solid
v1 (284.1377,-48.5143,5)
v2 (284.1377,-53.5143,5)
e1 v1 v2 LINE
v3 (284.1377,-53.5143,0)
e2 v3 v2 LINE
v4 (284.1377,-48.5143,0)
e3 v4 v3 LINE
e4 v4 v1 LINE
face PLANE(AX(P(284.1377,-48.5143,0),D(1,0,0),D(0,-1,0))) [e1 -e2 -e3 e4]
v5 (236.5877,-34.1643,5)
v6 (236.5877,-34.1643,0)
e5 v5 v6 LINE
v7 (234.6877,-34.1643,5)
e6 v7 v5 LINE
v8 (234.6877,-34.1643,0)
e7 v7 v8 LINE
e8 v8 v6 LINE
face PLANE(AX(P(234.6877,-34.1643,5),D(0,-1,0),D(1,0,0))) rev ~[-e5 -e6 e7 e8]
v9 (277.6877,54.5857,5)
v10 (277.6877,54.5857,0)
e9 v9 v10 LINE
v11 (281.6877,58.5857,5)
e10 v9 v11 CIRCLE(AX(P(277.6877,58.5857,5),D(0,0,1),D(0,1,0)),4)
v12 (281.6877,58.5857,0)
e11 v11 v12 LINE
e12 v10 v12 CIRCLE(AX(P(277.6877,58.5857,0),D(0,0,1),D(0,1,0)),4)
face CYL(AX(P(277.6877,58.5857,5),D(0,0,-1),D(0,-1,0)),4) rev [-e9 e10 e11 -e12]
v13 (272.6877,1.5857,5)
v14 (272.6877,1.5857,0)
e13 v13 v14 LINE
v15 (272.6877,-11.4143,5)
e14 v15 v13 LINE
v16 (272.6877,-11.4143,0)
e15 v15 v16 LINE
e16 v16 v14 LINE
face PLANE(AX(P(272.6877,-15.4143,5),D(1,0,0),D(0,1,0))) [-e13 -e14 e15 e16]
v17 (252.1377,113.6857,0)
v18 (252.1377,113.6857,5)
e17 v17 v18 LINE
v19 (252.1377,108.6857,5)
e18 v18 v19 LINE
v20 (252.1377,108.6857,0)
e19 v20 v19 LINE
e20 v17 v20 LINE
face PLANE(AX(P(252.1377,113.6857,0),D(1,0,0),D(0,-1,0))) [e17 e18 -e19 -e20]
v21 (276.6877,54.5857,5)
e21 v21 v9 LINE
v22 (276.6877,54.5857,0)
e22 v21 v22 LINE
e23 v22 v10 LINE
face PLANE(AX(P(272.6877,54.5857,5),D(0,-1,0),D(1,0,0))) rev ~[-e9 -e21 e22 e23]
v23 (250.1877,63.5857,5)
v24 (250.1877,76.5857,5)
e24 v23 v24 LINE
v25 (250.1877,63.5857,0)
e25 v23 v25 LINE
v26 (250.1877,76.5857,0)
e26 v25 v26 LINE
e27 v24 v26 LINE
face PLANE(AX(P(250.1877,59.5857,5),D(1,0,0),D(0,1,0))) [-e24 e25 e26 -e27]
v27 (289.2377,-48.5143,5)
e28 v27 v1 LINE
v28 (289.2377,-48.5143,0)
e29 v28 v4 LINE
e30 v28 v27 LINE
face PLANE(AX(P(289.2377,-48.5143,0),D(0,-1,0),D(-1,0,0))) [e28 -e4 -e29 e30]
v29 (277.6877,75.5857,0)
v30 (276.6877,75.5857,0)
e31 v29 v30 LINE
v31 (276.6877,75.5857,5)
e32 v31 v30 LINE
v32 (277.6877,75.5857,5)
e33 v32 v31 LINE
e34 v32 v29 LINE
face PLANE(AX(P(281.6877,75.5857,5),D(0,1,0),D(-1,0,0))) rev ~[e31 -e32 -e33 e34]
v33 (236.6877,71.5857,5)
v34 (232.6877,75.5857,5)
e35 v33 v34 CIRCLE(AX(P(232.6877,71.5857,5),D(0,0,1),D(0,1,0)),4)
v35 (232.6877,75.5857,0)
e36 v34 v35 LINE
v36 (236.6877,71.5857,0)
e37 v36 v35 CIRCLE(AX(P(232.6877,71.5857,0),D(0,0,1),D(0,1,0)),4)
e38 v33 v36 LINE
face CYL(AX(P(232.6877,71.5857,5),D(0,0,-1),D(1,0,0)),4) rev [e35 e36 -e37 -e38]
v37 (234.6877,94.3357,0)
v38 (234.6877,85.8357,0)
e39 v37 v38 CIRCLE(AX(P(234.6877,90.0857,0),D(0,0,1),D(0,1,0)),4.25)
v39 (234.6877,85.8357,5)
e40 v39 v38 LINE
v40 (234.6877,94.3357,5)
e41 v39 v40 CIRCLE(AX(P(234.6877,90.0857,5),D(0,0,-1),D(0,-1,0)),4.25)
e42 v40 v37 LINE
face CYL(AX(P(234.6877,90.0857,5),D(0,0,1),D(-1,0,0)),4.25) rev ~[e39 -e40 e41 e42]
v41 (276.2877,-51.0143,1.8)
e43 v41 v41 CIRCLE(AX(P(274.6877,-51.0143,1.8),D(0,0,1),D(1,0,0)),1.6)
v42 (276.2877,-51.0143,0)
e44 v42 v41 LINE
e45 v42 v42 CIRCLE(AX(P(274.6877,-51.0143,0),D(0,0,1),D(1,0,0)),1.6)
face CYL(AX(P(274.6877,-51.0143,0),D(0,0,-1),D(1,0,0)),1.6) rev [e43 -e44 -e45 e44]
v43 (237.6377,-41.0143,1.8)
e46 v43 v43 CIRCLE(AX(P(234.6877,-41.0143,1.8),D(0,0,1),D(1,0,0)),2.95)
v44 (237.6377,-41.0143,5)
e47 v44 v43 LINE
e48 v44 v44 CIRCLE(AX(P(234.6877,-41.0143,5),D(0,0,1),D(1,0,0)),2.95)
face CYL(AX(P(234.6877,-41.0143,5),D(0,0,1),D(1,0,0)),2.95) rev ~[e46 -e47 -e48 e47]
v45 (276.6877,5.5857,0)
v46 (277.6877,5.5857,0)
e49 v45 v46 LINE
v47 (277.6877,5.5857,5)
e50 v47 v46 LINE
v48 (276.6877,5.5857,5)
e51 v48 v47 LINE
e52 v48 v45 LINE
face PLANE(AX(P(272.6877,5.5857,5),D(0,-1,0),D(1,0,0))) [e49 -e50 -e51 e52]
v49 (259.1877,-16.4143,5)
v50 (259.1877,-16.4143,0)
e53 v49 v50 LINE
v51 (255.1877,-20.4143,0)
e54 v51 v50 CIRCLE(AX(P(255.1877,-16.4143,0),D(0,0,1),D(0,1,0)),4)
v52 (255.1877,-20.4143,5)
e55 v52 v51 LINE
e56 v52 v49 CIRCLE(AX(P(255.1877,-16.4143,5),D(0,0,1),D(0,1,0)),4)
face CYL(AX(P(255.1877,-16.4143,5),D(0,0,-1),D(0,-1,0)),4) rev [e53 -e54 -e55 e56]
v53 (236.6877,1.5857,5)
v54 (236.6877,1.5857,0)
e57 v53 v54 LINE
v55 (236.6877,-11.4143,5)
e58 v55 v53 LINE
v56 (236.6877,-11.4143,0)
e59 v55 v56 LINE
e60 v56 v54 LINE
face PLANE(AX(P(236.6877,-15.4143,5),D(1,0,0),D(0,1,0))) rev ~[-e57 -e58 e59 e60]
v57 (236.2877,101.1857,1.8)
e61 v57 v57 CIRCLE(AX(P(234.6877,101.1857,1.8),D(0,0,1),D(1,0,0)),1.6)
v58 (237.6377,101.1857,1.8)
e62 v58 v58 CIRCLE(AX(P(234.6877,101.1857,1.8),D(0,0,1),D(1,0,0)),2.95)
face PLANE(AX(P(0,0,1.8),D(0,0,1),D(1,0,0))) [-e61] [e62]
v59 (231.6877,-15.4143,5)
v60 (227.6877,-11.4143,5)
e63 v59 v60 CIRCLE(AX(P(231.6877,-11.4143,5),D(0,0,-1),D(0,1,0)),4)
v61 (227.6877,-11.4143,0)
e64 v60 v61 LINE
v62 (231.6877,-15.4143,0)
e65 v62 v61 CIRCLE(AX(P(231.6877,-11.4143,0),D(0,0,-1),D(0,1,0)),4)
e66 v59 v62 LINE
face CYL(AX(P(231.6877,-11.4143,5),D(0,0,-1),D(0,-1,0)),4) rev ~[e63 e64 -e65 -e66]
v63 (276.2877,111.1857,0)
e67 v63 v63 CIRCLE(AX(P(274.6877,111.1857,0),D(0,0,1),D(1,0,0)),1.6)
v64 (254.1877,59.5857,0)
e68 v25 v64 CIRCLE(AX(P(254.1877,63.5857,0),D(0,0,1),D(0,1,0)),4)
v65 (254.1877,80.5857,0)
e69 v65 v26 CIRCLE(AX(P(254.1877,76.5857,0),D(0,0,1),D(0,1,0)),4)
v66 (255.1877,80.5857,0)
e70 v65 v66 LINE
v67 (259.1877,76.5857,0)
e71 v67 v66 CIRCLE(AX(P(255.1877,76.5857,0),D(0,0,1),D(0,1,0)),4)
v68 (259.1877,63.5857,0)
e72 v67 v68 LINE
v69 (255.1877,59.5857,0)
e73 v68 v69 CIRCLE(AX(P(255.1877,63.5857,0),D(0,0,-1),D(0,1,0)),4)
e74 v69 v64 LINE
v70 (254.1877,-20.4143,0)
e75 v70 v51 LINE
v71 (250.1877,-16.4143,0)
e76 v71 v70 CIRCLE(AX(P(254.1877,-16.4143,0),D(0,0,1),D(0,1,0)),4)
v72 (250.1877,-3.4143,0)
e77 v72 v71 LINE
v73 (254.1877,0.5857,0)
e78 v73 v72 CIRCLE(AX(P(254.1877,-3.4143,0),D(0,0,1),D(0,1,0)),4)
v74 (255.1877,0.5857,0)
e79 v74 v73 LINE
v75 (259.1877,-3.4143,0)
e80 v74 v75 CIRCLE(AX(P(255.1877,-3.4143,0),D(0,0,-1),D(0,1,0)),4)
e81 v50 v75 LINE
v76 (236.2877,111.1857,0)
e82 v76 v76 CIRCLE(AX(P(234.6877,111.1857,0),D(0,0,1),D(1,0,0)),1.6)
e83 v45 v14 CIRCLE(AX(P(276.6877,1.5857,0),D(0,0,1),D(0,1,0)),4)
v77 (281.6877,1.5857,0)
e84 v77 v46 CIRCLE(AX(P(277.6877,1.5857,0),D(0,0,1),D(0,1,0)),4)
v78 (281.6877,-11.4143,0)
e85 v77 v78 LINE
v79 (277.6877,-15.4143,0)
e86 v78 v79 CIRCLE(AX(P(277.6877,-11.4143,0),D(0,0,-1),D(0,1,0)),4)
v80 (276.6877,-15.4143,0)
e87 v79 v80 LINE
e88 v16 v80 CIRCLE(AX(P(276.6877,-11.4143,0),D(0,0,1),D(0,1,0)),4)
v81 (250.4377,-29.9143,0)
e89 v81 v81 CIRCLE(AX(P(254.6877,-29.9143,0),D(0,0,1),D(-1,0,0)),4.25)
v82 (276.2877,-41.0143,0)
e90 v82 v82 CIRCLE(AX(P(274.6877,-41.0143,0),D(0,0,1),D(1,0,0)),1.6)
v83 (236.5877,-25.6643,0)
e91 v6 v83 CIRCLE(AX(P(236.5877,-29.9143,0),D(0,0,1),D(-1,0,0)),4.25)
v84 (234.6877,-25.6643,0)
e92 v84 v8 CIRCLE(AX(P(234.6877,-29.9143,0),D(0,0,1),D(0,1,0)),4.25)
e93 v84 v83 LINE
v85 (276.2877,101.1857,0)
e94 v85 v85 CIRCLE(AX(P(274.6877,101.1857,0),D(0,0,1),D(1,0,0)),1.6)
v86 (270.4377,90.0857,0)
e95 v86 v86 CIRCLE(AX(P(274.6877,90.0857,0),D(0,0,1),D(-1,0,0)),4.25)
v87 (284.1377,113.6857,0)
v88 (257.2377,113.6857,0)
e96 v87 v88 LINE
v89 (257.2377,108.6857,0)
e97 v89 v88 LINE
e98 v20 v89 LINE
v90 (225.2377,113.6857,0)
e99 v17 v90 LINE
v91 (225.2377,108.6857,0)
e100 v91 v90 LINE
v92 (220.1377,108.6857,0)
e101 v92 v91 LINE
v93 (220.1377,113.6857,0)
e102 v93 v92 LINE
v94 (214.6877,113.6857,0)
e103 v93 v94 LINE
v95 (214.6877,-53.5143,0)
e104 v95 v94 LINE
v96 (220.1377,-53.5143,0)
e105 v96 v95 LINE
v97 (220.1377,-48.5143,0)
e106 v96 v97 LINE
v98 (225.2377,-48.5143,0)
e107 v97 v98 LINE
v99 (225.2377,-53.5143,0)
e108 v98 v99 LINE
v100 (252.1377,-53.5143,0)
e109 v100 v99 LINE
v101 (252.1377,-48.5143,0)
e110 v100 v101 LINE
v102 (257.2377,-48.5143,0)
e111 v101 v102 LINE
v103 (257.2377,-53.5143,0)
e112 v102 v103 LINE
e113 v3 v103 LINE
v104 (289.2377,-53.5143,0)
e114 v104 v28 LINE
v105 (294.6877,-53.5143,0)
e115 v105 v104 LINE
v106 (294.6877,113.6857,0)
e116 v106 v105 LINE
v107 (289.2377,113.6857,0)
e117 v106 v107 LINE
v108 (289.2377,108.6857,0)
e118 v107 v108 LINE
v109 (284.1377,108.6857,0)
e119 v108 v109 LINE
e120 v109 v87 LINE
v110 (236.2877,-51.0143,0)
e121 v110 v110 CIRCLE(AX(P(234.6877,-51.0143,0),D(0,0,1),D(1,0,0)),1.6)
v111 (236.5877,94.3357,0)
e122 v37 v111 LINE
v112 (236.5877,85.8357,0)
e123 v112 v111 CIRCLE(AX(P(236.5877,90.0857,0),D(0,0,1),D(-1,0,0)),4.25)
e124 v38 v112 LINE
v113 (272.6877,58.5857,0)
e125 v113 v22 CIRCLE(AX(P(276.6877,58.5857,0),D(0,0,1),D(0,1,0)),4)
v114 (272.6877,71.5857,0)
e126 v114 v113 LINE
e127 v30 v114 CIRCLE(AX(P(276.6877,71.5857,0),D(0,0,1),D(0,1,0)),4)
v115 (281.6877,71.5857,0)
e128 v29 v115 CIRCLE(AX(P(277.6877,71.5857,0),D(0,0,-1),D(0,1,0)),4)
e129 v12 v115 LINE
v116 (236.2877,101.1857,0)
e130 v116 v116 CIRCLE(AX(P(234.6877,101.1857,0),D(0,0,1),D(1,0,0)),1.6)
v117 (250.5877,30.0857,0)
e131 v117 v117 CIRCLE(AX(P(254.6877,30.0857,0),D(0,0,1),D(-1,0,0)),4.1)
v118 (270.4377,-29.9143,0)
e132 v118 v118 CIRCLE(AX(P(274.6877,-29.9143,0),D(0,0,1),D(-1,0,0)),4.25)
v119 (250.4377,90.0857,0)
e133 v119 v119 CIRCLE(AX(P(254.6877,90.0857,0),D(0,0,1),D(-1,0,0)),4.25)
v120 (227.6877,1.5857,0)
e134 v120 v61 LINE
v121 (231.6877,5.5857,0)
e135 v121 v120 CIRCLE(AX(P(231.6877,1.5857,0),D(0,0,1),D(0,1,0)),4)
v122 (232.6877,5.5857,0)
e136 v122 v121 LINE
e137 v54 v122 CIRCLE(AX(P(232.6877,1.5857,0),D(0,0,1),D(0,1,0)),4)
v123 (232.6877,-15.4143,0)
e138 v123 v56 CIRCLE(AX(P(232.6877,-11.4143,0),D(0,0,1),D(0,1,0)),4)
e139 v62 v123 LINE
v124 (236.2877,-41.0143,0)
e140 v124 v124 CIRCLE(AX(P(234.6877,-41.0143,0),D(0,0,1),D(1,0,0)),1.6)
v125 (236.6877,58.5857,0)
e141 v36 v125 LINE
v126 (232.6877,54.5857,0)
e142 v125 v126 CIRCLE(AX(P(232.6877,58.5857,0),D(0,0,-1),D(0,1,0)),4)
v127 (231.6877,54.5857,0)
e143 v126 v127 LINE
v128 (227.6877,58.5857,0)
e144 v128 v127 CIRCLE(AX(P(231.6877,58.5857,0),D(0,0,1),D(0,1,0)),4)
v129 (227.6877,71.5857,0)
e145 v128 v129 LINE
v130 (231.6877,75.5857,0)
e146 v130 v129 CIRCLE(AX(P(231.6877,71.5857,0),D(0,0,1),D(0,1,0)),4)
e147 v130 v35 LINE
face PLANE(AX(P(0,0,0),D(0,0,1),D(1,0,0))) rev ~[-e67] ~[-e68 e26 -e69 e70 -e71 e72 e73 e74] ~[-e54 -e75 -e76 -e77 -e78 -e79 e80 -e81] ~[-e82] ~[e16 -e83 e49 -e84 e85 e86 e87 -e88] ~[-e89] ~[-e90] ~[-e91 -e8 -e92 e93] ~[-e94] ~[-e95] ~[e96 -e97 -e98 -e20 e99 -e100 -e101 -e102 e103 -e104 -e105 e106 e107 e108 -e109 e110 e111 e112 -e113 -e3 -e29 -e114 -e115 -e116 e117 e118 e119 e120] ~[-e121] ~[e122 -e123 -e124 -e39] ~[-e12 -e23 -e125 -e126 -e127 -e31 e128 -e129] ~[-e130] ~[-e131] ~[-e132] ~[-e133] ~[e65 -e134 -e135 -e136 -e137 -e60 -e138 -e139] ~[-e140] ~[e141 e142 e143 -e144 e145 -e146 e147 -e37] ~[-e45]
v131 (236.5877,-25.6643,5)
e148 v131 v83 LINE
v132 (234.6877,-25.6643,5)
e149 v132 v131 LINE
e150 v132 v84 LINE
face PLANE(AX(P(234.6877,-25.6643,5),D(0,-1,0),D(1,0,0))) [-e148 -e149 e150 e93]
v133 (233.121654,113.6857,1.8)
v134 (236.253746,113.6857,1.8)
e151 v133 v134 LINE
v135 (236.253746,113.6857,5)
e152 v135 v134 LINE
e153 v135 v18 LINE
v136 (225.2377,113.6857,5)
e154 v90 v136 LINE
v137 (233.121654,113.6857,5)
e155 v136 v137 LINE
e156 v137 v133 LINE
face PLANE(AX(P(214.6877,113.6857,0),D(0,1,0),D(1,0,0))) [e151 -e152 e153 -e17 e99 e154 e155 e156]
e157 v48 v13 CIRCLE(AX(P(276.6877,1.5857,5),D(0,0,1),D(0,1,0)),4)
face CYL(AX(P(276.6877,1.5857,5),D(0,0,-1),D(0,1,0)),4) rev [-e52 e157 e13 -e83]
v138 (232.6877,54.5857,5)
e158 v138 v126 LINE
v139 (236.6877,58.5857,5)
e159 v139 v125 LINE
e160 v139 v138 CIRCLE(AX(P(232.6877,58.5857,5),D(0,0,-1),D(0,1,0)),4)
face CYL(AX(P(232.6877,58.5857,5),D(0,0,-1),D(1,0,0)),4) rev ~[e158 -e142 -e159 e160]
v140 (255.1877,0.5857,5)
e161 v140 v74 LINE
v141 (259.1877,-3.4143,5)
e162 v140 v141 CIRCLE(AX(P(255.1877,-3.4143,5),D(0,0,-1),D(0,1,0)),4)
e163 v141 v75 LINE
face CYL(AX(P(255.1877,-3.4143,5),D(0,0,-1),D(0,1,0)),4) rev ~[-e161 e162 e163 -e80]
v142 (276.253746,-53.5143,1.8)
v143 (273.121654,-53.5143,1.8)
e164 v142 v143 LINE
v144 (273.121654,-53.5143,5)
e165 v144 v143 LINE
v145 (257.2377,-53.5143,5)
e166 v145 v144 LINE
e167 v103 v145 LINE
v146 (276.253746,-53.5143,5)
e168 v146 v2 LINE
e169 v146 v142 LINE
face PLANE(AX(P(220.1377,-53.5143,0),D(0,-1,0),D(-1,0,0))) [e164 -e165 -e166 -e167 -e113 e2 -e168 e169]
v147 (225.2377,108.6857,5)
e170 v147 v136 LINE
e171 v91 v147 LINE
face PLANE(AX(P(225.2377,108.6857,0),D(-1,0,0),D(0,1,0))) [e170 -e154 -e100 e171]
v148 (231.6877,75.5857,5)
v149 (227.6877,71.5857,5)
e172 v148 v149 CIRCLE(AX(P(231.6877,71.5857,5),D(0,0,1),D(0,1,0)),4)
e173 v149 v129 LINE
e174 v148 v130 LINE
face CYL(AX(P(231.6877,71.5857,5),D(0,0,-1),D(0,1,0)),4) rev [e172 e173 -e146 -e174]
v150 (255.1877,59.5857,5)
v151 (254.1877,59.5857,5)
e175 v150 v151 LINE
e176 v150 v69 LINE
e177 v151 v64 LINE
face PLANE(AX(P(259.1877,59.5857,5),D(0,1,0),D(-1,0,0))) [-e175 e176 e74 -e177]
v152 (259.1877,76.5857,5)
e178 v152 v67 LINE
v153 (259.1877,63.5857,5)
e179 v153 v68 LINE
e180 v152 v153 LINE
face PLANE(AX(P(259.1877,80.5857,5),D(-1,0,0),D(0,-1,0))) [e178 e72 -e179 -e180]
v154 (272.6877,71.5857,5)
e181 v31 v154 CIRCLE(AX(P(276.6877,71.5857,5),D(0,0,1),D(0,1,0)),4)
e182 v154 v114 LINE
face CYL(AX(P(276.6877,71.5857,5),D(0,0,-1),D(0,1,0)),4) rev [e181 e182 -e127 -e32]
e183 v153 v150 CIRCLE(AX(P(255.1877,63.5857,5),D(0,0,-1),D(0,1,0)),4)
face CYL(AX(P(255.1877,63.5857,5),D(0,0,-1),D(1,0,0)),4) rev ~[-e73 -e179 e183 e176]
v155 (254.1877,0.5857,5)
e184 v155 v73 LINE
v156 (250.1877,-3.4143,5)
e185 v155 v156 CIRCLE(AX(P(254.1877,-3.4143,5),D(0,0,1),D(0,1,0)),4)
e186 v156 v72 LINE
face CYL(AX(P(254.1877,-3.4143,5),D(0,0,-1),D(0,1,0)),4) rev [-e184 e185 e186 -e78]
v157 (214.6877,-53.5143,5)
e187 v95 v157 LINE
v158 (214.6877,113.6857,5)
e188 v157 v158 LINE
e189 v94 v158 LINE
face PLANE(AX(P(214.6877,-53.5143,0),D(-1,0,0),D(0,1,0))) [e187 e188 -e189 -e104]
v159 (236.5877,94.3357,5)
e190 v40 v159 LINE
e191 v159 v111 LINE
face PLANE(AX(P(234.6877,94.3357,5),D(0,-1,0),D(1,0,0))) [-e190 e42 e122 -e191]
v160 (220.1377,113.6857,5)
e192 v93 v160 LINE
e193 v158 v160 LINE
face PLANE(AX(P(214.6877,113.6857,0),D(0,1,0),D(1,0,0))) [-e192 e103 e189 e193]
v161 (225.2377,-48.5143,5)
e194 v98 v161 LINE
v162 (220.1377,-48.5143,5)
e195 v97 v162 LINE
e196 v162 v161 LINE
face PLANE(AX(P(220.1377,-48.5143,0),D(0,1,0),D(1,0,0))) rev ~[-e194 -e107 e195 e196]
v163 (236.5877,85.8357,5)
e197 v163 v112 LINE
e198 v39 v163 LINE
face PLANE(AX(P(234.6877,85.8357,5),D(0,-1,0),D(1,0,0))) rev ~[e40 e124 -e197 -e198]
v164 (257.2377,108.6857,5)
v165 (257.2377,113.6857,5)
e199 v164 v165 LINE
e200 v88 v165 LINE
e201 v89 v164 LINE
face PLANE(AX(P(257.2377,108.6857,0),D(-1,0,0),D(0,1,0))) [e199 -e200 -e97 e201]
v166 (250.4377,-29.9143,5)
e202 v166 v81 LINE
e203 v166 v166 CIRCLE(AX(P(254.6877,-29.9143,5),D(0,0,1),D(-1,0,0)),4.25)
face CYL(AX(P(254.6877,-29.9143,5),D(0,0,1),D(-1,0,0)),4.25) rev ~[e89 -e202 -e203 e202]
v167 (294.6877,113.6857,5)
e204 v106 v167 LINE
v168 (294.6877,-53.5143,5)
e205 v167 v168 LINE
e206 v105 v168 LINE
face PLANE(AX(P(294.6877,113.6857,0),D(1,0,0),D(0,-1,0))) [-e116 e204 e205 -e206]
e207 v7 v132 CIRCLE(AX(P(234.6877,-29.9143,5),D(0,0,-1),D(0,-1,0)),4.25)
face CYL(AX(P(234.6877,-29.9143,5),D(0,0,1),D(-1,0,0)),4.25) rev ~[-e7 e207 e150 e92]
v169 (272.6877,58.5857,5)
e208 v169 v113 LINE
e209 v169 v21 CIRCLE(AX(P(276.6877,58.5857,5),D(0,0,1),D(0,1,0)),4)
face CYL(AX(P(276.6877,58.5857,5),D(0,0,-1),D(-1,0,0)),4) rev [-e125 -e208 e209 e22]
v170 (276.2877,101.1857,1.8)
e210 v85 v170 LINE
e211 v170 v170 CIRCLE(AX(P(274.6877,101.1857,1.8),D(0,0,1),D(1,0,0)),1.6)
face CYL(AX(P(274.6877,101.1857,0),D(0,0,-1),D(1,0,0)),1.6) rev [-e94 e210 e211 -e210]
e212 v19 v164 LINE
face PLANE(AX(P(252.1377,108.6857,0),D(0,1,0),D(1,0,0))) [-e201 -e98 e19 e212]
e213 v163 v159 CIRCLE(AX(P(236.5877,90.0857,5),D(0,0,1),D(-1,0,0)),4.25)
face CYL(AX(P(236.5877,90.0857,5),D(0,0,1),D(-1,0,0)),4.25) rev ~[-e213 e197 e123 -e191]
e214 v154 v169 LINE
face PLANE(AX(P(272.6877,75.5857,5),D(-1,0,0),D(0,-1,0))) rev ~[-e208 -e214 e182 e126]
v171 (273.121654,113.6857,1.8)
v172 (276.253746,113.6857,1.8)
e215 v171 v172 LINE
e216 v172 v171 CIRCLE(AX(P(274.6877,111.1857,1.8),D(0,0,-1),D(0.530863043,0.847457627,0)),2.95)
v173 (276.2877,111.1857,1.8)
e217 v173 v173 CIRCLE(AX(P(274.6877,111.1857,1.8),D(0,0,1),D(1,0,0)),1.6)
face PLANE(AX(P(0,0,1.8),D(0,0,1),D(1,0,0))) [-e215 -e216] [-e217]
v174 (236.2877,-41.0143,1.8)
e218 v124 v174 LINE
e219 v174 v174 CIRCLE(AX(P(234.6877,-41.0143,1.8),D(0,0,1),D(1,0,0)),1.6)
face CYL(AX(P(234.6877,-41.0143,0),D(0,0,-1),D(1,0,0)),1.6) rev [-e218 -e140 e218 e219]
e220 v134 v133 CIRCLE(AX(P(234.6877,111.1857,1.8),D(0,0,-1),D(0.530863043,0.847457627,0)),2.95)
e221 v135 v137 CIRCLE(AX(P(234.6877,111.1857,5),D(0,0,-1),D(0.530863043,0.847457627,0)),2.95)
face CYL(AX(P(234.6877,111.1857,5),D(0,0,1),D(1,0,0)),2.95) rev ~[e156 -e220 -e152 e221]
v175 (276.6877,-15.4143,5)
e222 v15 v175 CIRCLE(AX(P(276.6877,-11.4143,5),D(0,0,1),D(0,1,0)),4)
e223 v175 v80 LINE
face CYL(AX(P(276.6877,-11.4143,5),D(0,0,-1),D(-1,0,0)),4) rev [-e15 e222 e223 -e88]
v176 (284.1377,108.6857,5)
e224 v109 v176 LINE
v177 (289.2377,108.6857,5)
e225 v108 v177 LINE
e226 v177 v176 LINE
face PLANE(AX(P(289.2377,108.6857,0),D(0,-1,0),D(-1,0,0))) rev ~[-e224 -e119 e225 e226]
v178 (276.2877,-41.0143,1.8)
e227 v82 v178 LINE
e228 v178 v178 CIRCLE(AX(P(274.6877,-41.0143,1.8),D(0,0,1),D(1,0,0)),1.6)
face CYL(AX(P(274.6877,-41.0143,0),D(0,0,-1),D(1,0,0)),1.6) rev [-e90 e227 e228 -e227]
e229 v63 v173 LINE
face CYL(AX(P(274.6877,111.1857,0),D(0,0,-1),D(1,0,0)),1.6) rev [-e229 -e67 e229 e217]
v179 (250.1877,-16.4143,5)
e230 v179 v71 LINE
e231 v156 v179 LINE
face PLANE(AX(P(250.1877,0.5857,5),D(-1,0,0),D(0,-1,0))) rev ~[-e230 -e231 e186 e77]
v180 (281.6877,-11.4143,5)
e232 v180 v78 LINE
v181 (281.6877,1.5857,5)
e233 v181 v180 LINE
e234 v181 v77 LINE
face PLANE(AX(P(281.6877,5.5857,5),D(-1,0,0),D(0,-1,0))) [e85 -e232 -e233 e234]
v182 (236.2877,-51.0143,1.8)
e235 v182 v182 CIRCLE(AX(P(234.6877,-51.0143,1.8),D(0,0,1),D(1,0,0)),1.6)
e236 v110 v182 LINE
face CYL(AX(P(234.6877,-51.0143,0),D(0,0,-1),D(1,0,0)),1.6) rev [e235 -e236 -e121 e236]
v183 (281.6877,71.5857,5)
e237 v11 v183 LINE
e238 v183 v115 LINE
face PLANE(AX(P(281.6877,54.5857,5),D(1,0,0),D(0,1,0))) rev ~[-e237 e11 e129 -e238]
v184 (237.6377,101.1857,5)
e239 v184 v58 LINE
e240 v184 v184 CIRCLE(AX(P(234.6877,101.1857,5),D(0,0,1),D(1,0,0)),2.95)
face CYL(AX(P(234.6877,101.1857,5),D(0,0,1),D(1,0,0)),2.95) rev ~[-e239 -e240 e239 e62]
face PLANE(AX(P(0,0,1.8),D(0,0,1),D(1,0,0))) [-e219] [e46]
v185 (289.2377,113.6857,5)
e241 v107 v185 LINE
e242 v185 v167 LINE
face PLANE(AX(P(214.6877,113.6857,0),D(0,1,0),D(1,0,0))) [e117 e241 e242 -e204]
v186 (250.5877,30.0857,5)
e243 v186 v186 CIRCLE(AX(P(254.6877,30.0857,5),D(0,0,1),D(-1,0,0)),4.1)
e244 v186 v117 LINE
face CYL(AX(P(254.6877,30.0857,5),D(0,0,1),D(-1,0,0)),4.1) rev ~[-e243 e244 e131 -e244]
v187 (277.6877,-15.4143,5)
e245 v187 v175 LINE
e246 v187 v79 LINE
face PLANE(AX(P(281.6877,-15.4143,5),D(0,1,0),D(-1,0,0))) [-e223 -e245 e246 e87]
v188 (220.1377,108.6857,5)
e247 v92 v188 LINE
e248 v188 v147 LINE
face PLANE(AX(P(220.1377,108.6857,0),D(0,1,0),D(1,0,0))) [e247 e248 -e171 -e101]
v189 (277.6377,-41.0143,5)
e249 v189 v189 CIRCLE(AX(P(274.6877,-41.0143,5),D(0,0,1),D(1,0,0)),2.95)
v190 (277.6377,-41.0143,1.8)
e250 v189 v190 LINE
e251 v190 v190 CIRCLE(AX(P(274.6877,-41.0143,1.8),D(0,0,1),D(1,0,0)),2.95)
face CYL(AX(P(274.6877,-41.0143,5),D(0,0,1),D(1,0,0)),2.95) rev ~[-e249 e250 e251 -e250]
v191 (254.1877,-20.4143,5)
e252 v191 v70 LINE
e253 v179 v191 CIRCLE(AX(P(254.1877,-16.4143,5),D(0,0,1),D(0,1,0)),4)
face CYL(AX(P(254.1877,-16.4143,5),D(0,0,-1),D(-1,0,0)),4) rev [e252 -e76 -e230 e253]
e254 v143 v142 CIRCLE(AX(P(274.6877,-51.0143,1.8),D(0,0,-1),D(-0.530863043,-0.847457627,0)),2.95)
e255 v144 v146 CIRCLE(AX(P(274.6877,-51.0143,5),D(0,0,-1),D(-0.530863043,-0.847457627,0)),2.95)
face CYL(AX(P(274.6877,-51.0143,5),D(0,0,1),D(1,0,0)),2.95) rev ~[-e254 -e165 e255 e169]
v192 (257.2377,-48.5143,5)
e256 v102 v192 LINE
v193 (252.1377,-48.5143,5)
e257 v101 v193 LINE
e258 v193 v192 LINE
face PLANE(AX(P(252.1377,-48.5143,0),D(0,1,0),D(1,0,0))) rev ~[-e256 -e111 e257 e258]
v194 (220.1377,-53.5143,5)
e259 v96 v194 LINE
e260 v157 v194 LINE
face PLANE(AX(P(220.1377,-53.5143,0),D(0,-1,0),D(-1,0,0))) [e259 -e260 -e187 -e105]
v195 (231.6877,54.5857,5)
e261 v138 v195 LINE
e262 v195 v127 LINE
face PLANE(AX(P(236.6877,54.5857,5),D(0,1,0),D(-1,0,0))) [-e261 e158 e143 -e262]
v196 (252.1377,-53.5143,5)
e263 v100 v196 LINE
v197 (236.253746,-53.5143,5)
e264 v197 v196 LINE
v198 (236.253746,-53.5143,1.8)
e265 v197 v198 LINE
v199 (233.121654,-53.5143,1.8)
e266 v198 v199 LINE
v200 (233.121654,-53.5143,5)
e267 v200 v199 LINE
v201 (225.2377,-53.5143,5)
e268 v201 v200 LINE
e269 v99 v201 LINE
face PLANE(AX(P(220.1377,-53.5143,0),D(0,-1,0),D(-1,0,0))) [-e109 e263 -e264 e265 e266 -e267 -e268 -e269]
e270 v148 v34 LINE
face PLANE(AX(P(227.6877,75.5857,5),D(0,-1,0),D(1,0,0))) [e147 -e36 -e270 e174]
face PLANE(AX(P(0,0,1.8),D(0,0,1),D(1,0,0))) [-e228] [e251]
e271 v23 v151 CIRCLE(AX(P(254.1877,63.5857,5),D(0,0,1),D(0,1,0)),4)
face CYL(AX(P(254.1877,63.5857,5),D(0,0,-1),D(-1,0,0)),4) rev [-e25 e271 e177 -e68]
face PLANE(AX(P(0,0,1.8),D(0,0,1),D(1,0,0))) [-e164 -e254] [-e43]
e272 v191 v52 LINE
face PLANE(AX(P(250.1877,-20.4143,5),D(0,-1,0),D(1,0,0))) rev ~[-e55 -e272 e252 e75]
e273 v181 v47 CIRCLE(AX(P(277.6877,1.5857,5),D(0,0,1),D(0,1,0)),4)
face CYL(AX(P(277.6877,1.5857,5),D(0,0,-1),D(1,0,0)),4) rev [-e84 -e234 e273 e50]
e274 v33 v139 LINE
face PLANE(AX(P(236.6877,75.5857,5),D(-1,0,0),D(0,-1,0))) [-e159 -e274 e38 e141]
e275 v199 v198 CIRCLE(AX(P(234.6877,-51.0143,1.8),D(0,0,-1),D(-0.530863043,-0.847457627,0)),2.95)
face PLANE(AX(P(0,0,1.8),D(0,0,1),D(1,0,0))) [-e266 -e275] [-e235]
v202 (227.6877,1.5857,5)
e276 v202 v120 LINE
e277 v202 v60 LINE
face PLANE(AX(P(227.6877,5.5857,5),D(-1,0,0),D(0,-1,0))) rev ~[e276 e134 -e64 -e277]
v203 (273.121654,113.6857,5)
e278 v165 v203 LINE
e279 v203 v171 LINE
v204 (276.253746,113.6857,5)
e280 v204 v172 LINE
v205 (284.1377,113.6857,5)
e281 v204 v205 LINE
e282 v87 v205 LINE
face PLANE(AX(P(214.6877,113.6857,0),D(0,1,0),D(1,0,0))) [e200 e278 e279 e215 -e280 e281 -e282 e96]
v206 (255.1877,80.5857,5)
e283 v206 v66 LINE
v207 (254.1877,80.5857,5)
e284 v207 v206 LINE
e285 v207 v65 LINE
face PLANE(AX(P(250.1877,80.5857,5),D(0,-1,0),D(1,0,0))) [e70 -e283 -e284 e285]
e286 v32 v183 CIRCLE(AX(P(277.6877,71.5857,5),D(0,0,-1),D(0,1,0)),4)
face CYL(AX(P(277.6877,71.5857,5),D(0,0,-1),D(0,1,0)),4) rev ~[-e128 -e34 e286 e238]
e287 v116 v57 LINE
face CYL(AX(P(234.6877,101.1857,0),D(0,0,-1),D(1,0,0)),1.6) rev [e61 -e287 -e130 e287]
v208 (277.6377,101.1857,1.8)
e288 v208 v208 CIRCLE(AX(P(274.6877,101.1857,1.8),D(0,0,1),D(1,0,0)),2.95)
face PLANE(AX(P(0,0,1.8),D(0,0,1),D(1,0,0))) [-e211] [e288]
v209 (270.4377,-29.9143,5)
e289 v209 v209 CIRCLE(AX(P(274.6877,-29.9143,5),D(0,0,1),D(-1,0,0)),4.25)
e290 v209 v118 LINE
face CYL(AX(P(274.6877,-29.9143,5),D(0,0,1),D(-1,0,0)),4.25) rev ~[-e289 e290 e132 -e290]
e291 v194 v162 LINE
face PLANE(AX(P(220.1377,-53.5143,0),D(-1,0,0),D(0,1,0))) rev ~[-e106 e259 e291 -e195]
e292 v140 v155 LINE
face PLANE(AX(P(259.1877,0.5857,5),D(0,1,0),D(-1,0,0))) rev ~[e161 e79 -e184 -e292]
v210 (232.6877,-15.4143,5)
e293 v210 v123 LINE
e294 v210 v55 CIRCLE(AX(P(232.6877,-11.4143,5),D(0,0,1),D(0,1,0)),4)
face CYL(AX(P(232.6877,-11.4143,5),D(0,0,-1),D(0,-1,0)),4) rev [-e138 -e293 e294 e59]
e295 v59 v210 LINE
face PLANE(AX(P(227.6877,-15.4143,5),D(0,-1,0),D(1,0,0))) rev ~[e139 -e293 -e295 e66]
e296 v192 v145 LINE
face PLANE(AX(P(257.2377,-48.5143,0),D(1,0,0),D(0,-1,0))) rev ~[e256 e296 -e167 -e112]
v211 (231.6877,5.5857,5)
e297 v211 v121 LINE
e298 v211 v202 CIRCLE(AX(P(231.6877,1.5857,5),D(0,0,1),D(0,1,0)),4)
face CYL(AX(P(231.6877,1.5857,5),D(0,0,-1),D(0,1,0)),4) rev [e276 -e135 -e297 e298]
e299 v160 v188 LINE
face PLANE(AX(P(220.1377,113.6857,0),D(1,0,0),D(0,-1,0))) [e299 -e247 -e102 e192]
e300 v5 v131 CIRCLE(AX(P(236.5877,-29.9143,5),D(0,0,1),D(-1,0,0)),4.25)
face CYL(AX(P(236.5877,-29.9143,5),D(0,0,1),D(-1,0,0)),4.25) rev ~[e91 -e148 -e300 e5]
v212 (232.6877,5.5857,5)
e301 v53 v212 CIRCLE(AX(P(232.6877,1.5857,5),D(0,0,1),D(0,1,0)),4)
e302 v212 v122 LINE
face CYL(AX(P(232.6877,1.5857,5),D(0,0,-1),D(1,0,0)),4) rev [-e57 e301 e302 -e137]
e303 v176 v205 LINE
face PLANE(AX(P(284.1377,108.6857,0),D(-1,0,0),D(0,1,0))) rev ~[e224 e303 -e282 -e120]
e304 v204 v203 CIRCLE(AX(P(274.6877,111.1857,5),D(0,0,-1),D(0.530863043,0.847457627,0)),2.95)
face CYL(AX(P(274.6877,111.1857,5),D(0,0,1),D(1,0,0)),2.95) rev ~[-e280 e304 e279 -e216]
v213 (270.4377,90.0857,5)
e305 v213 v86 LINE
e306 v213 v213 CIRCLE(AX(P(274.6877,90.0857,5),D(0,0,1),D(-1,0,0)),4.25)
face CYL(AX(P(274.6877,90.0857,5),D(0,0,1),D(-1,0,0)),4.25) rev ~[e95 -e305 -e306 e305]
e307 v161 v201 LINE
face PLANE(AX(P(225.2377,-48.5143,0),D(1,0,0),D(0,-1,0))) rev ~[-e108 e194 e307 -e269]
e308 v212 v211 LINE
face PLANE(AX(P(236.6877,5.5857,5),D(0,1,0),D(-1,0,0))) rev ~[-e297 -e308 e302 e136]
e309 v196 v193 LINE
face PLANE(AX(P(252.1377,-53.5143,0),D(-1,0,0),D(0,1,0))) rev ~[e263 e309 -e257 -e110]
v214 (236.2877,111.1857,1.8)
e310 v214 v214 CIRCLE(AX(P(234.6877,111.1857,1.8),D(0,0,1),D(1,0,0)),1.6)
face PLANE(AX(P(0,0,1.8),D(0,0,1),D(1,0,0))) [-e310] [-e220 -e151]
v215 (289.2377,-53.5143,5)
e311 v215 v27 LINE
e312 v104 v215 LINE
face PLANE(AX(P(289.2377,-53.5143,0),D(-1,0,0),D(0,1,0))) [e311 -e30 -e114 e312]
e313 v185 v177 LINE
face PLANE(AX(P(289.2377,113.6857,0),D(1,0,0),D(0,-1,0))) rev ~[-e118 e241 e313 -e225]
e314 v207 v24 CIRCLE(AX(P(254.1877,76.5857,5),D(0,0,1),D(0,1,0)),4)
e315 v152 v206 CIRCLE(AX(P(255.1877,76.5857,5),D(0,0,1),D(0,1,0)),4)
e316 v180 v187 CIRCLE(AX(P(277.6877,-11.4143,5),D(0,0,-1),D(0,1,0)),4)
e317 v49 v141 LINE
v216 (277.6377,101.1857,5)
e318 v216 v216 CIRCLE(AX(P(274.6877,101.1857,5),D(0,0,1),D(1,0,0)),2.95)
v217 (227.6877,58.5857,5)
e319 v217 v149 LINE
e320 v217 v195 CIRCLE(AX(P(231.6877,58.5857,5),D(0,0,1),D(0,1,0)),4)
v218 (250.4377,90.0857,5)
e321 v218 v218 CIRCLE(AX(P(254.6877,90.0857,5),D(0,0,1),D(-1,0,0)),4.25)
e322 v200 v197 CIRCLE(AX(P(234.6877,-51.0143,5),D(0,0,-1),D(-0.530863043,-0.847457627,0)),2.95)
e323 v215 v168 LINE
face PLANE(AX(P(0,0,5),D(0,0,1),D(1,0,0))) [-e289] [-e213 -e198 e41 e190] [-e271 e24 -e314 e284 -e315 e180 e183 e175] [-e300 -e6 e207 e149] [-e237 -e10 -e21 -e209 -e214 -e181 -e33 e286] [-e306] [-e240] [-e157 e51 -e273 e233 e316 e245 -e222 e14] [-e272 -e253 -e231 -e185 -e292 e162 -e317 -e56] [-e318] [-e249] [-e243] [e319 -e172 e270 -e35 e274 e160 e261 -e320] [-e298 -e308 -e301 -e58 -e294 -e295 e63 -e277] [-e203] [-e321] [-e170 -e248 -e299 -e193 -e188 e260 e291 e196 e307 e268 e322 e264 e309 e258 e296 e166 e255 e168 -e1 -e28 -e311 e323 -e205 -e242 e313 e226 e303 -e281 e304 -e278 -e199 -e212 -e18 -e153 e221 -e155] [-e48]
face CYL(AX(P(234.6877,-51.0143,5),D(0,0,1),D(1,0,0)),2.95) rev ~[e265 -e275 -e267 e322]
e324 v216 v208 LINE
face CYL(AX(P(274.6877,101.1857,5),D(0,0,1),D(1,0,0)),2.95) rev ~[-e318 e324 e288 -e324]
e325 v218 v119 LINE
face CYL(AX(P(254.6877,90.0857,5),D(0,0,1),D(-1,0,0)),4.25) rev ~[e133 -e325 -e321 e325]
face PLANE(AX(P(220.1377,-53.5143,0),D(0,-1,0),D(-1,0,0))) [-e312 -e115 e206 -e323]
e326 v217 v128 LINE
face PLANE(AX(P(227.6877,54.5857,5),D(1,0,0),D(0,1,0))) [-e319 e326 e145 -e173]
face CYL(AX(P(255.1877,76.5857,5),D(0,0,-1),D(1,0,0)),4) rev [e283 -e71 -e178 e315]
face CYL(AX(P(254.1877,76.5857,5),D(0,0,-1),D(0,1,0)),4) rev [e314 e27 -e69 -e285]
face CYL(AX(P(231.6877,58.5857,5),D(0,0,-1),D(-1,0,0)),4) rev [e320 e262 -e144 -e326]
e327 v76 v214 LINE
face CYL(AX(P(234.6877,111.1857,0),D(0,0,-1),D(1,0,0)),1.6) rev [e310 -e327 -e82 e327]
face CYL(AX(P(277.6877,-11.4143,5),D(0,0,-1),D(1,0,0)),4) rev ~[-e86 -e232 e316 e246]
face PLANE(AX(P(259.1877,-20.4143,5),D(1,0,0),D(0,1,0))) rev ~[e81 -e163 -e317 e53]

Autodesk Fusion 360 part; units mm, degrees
sketch "Schizzo5" plane through (0, 0, 0) normal (0, 0, 1) x (1, 0, 0)
  line L0 (214.6877, 113.6857) -> (294.6877, 113.6857)
  line L1 (294.6877, 113.6857) -> (294.6877, -53.5143)
  line L2 (294.6877, -53.5143) -> (214.6877, -53.5143)
  line L3 (214.6877, -53.5143) -> (214.6877, 113.6857)
  line L4 (254.6877, 113.6857) -> (254.6877, -53.5143) construction
  line L5 (214.6877, 30.0857) -> (294.6877, 30.0857) construction
  line L6 (274.6877, -51.0143) -> (234.6877, -51.0143) construction
  line L7 (234.6877, -51.0143) -> (234.6877, -41.0143) construction
  line L8 (234.6877, -41.0143) -> (274.6877, -41.0143) construction
  line L9 (274.6877, -41.0143) -> (274.6877, -51.0143) construction
  line L10 (274.6877, -51.0143) -> (234.6877, -41.0143) construction
  line L11 (234.6877, -51.0143) -> (274.6877, -41.0143) construction
  line L12 (225.2377, -53.5143) -> (220.1377, -53.5143)
  line L13 (220.1377, -53.5143) -> (220.1377, -48.5143)
  line L14 (220.1377, -48.5143) -> (225.2377, -48.5143)
  line L15 (225.2377, -48.5143) -> (225.2377, -53.5143)
  line L16 (225.2377, -53.5143) -> (220.1377, -48.5143) construction
  line L17 (220.1377, -53.5143) -> (225.2377, -48.5143) construction
  line L18 (289.2377, -48.5143) -> (284.1377, -48.5143)
  line L19 (289.2377, -53.5143) -> (289.2377, -48.5143)
  line L20 (284.1377, -48.5143) -> (284.1377, -53.5143)
  line L21 (284.1377, -53.5143) -> (289.2377, -53.5143)
  circle A0 centre (234.6877, -41.0143) radius 1.6
  circle A1 centre (234.6877, -41.0143) radius 2.95
  line L22 (234.6877, -46.0143) -> (274.6877, -46.0143) construction
  circle A2 centre (234.6877, -51.0143) radius 1.6
  circle A3 centre (234.6877, -51.0143) radius 2.95
  circle A4 centre (274.6877, -41.0143) radius 2.95
  circle A5 centre (274.6877, -41.0143) radius 1.6
  circle A6 centre (274.6877, -51.0143) radius 1.6
  circle A7 centre (274.6877, -51.0143) radius 2.95
  circle A8 centre (234.6877, 111.1857) radius 2.95
  circle A9 centre (234.6877, 111.1857) radius 1.6
  circle A10 centre (234.6877, 101.1857) radius 2.95
  circle A11 centre (234.6877, 101.1857) radius 1.6
  circle A12 centre (274.6877, 101.1857) radius 2.95
  circle A13 centre (274.6877, 101.1857) radius 1.6
  circle A14 centre (274.6877, 111.1857) radius 2.95
  circle A15 centre (274.6877, 111.1857) radius 1.6
  line L23 (289.2377, 108.6857) -> (284.1377, 108.6857)
  line L24 (284.1377, 108.6857) -> (284.1377, 113.6857)
  line L25 (289.2377, 113.6857) -> (289.2377, 108.6857)
  line L26 (225.2377, 108.6857) -> (225.2377, 113.6857)
  line L27 (220.1377, 108.6857) -> (225.2377, 108.6857)
  line L28 (220.1377, 113.6857) -> (220.1377, 108.6857)
  line L29 (257.2377, -53.5143) -> (252.1377, -53.5143)
  line L30 (252.1377, -53.5143) -> (252.1377, -48.5143)
  line L31 (252.1377, -48.5143) -> (257.2377, -48.5143)
  line L32 (257.2377, -48.5143) -> (257.2377, -53.5143)
  line L33 (257.2377, -53.5143) -> (252.1377, -48.5143) construction
  line L34 (252.1377, -53.5143) -> (257.2377, -48.5143) construction
  line L35 (252.1377, 108.6857) -> (257.2377, 108.6857)
  line L36 (252.1377, 113.6857) -> (252.1377, 108.6857)
  line L37 (257.2377, 108.6857) -> (257.2377, 113.6857)
  point P0 (254.6877, -46.0143)
  point P1 (222.6877, -51.0143)
  point P2 (286.6877, -51.0143)
  point P3 (222.6877, -51.0143)
  point P4 (254.6877, -51.0143)
  dimension "d398" = 80
  dimension "d399" = 167.2
  dimension "d400" = 40
  dimension "d401" = 10
  dimension "d402" = 2.5
  dimension "d403" = 64
  dimension "d404" = 5.1
  dimension "d405" = 5
  dimension "d406" = 3.2
  dimension "d407" = 5.9
  dimension "d410" = 5.1
  dimension "d411" = 5
extrude "Estrusione32" add sketch "Schizzo5" along normal blind 5 contours L0 L1 L2 L3 L13 L14 L15 L18 L19 L20 A3 A7 A8 A14 L23 L24 L25 L26 L27 L28 L30 L31 L32 L35 L36 L37 | L0 L26 L27 L28 | L2 L12 L13 L14 L15 | L0 A8 | L2 A3 | L0 L35 L36 L37 | L2 L29 L30 L31 L32 | L0 A14 | L2 A7 | L0 L23 L24 L25 | L2 L18 L19 L20 L21 | A0 | A1 | A2 | A4 | A5 | A6 | A9 | A10 | A11 | A12 | A13 | A15 picked at (234.7276, 113.3842) picked at (234.7276, -53.2128) picked at (274.7276, 113.3842) picked at (274.6479, -53.2128)
sketch "Schizzo20" plane through (0, 0, 5) normal (0, 0, 1) x (-1, 0, 0)
  line L0 (-214.6877, 53.5143) -> (-294.6877, 53.5143)
  line L1 (-294.6877, 53.5143) -> (-294.6877, -113.6857)
  line L2 (-294.6877, -113.6857) -> (-214.6877, -113.6857)
  line L3 (-214.6877, -113.6857) -> (-214.6877, 53.5143)
  line L4 (-214.6877, -113.6857) -> (-294.6877, -113.6857) construction
  line L5 (-294.6877, -113.6857) -> (-294.6877, 53.5143) construction
  line L6 (-294.6877, 53.5143) -> (-214.6877, 53.5143) construction
  line L7 (-214.6877, 53.5143) -> (-214.6877, -113.6857) construction
  line L8 (-254.6877, -113.6857) -> (-254.6877, 53.5143) construction
  line L9 (-214.6877, -30.0857) -> (-294.6877, -30.0857) construction
  circle A0 centre (-254.6877, -30.0857) radius 4.1
  line L10 (-259.1877, -59.5857) -> (-250.1877, -59.5857)
  line L11 (-250.1877, -59.5857) -> (-250.1877, -80.5857)
  line L12 (-250.1877, -80.5857) -> (-259.1877, -80.5857)
  line L13 (-259.1877, -80.5857) -> (-259.1877, -59.5857)
  line L14 (-259.1877, -59.5857) -> (-250.1877, -80.5857) construction
  line L15 (-250.1877, -59.5857) -> (-259.1877, -80.5857) construction
  line L16 (-250.1877, -0.5857) -> (-250.1877, 20.4143)
  line L17 (-259.1877, 20.4143) -> (-259.1877, -0.5857)
  line L18 (-259.1877, -0.5857) -> (-250.1877, -0.5857)
  line L19 (-250.1877, 20.4143) -> (-259.1877, 20.4143)
  circle A1 centre (-254.6877, -90.0857) radius 4.25
  circle A2 centre (-254.6877, 29.9143) radius 4.25
  point P0 (-254.6877, -70.0857)
  point P1 (-254.6877, 9.9143)
  point P2 (-254.6877, -70.0857)
  dimension "d412" = 8.2
  dimension "d413" = 80
  dimension "d414" = 9
  dimension "d415" = 21
  dimension "d435" = 8.5
  dimension "d436" = 120
extrude "Estrusione33" cut sketch "Schizzo20" against normal blind 5 contours A0 | L10 L11 L12 L13 | L16 L17 L18 L19 | A1 | A2
fillet "Raccordo7" radius 4 4 edges at (250.1877, 0.5857, 2.5) (250.1877, -20.4143, 2.5) (259.1877, -20.4143, 2.5) (259.1877, 0.5857, 2.5)
fillet "Raccordo7" radius 4 4 edges at (250.1877, 59.5857, 2.5) (250.1877, 80.5857, 2.5) (259.1877, 80.5857, 2.5) (259.1877, 59.5857, 2.5)
sketch "Schizzo21" plane through (0, 0, 5) normal (0, 0, 1) x (-1, 0, 0)
  line L0 (-250.1877, -63.5857) -> (-250.1877, -76.5857)
  line L1 (-254.1877, -80.5857) -> (-255.1877, -80.5857)
  line L2 (-259.1877, -76.5857) -> (-259.1877, -63.5857)
  line L3 (-255.1877, -59.5857) -> (-254.1877, -59.5857)
  circle A0 centre (-254.6877, -30.0857) radius 4.1
  line L4 (-259.1877, 3.4143) -> (-259.1877, 16.4143)
  line L5 (-255.1877, 20.4143) -> (-254.1877, 20.4143)
  line L6 (-250.1877, 16.4143) -> (-250.1877, 3.4143)
  line L7 (-254.1877, -0.5857) -> (-255.1877, -0.5857)
  line L8 (-214.6877, 53.5143) -> (-294.6877, 53.5143)
  line L9 (-294.6877, 53.5143) -> (-294.6877, -113.6857)
  line L10 (-294.6877, -113.6857) -> (-214.6877, -113.6857)
  line L11 (-214.6877, -113.6857) -> (-214.6877, 53.5143)
  line L12 (-214.6877, -113.6857) -> (-294.6877, -113.6857) construction
  line L13 (-294.6877, -113.6857) -> (-294.6877, 53.5143) construction
  line L14 (-294.6877, 53.5143) -> (-214.6877, 53.5143) construction
  line L15 (-214.6877, 53.5143) -> (-214.6877, -113.6857) construction
  line L16 (-254.6877, -113.6857) -> (-254.6877, 53.5143) construction
  line L17 (-214.6877, -30.0857) -> (-294.6877, -30.0857) construction
  line L18 (-236.6877, -54.5857) -> (-227.6877, -54.5857)
  line L19 (-227.6877, -54.5857) -> (-227.6877, -75.5857)
  line L20 (-227.6877, -75.5857) -> (-236.6877, -75.5857)
  line L21 (-236.6877, -75.5857) -> (-236.6877, -54.5857)
  line L22 (-236.6877, -54.5857) -> (-227.6877, -75.5857) construction
  line L23 (-227.6877, -54.5857) -> (-236.6877, -75.5857) construction
  line L24 (-236.6877, 15.4143) -> (-236.6877, -5.5857)
  line L25 (-227.6877, 15.4143) -> (-236.6877, 15.4143)
  line L26 (-227.6877, -5.5857) -> (-227.6877, 15.4143)
  line L27 (-236.6877, -5.5857) -> (-227.6877, -5.5857)
  line L28 (-272.6877, -75.5857) -> (-272.6877, -54.5857)
  line L29 (-272.6877, -54.5857) -> (-281.6877, -54.5857)
  line L30 (-281.6877, -54.5857) -> (-281.6877, -75.5857)
  line L31 (-281.6877, -75.5857) -> (-272.6877, -75.5857)
  line L32 (-281.6877, 15.4143) -> (-272.6877, 15.4143)
  line L33 (-272.6877, 15.4143) -> (-272.6877, -5.5857)
  line L34 (-272.6877, -5.5857) -> (-281.6877, -5.5857)
  line L35 (-281.6877, -5.5857) -> (-281.6877, 15.4143)
  circle A1 centre (-254.6877, 29.9143) radius 4.25
  circle A2 centre (-254.6877, -90.0857) radius 4.25
  arc A3 (-255.1877, 20.4143) -> (-259.1877, 16.4143) centre (-255.1877, 16.4143) ccw
  arc A4 (-250.1877, 16.4143) -> (-254.1877, 20.4143) centre (-254.1877, 16.4143) ccw
  arc A5 (-254.1877, -0.5857) -> (-250.1877, 3.4143) centre (-254.1877, 3.4143) ccw
  arc A6 (-259.1877, 3.4143) -> (-255.1877, -0.5857) centre (-255.1877, 3.4143) ccw
  arc A7 (-254.1877, -80.5857) -> (-250.1877, -76.5857) centre (-254.1877, -76.5857) ccw
  arc A8 (-259.1877, -76.5857) -> (-255.1877, -80.5857) centre (-255.1877, -76.5857) ccw
  arc A9 (-255.1877, -59.5857) -> (-259.1877, -63.5857) centre (-255.1877, -63.5857) ccw
  arc A10 (-250.1877, -63.5857) -> (-254.1877, -59.5857) centre (-254.1877, -63.5857) ccw
  point P0 (-232.1877, -65.0857)
  point P1 (-232.1877, 4.9143)
  point P2 (-232.1877, -65.0857)
  point P3 (-277.1877, -65.0857)
  dimension "d418" = 70
  dimension "d419" = 9
  dimension "d420" = 21
  dimension "d421" = 45
extrude "Estrusione34" cut sketch "Schizzo21" against normal blind 5 contours L18 L19 L20 L21 | L24 L25 L26 L27 | L28 L29 L30 L31 | L32 L33 L34 L35
fillet "Raccordo9" radius 4 4 edges at (227.6877, 5.5857, 2.5) (236.6877, 5.5857, 2.5) (236.6877, -15.4143, 2.5) (227.6877, -15.4143, 2.5)
fillet "Raccordo9" radius 4 4 edges at (227.6877, 75.5857, 2.5) (236.6877, 75.5857, 2.5) (236.6877, 54.5857, 2.5) (227.6877, 54.5857, 2.5)
fillet "Raccordo9" radius 4 4 edges at (272.6877, 5.5857, 2.5) (281.6877, 5.5857, 2.5) (281.6877, -15.4143, 2.5) (272.6877, -15.4143, 2.5)
fillet "Raccordo9" radius 4 4 edges at (272.6877, 75.5857, 2.5) (272.6877, 54.5857, 2.5) (281.6877, 54.5857, 2.5) (281.6877, 75.5857, 2.5)
sketch "Schizzo22" plane through (0, 0, 5) normal (0, 0, 1) x (-1, 0, 0)
  line L0 (-272.6877, -58.5857) -> (-272.6877, -71.5857)
  line L1 (-276.6877, -75.5857) -> (-277.6877, -75.5857)
  line L2 (-281.6877, -71.5857) -> (-281.6877, -58.5857)
  line L3 (-277.6877, -54.5857) -> (-276.6877, -54.5857)
  line L4 (-227.6877, 11.4143) -> (-227.6877, -1.5857)
  line L5 (-231.6877, -5.5857) -> (-232.6877, -5.5857)
  line L6 (-236.6877, -1.5857) -> (-236.6877, 11.4143)
  line L7 (-232.6877, 15.4143) -> (-231.6877, 15.4143)
  line L8 (-227.6877, -58.5857) -> (-227.6877, -71.5857)
  line L9 (-231.6877, -75.5857) -> (-232.6877, -75.5857)
  line L10 (-236.6877, -71.5857) -> (-236.6877, -58.5857)
  line L11 (-232.6877, -54.5857) -> (-231.6877, -54.5857)
  line L12 (-272.6877, 11.4143) -> (-272.6877, -1.5857)
  line L13 (-276.6877, -5.5857) -> (-277.6877, -5.5857)
  line L14 (-281.6877, -1.5857) -> (-281.6877, 11.4143)
  line L15 (-277.6877, 15.4143) -> (-276.6877, 15.4143)
  line L16 (-250.1877, -63.5857) -> (-250.1877, -76.5857)
  line L17 (-254.1877, -80.5857) -> (-255.1877, -80.5857)
  line L18 (-259.1877, -76.5857) -> (-259.1877, -63.5857)
  line L19 (-255.1877, -59.5857) -> (-254.1877, -59.5857)
  circle A0 centre (-254.6877, -30.0857) radius 4.1
  line L20 (-259.1877, 3.4143) -> (-259.1877, 16.4143)
  line L21 (-255.1877, 20.4143) -> (-254.1877, 20.4143)
  line L22 (-250.1877, 16.4143) -> (-250.1877, 3.4143)
  line L23 (-254.1877, -0.5857) -> (-255.1877, -0.5857)
  line L24 (-214.6877, 53.5143) -> (-294.6877, 53.5143)
  line L25 (-294.6877, 53.5143) -> (-294.6877, -113.6857)
  line L26 (-294.6877, -113.6857) -> (-214.6877, -113.6857)
  line L27 (-214.6877, -113.6857) -> (-214.6877, 53.5143)
  line L28 (-214.6877, -113.6857) -> (-294.6877, -113.6857) construction
  line L29 (-294.6877, -113.6857) -> (-294.6877, 53.5143) construction
  line L30 (-294.6877, 53.5143) -> (-214.6877, 53.5143) construction
  line L31 (-214.6877, 53.5143) -> (-214.6877, -113.6857) construction
  line L32 (-274.6877, -113.6857) -> (-274.6877, 53.5143) construction
  circle A1 centre (-234.6877, -90.0857) radius 4.25
  line L33 (-254.6877, -113.6857) -> (-254.6877, 53.5143) construction
  line L34 (-214.6877, -30.0857) -> (-294.6877, -30.0857) construction
  circle A2 centre (-274.6877, -90.0857) radius 4.25
  circle A3 centre (-274.6877, 29.9143) radius 4.25
  circle A4 centre (-234.6877, 29.9143) radius 4.25
  line L35 (-236.5877, -113.6857) -> (-236.5877, 53.5143) construction
  circle A5 centre (-236.5877, -90.0857) radius 4.25
  line L36 (-234.6877, -94.3357) -> (-234.6877, -85.8357) construction
  line L37 (-234.6877, -94.3357) -> (-236.5877, -94.3357)
  line L38 (-234.6877, -85.8357) -> (-236.5877, -85.8357)
  circle A6 centre (-236.5877, 29.9143) radius 4.25
  line L39 (-234.6877, 34.1643) -> (-236.5877, 34.1643)
  line L40 (-234.6877, 25.6643) -> (-236.5877, 25.6643)
  circle A7 centre (-254.6877, 29.9143) radius 4.25
  circle A8 centre (-254.6877, -90.0857) radius 4.25
  arc A9 (-276.6877, -75.5857) -> (-272.6877, -71.5857) centre (-276.6877, -71.5857) ccw
  arc A10 (-281.6877, -71.5857) -> (-277.6877, -75.5857) centre (-277.6877, -71.5857) ccw
  arc A11 (-277.6877, -54.5857) -> (-281.6877, -58.5857) centre (-277.6877, -58.5857) ccw
  arc A12 (-272.6877, -58.5857) -> (-276.6877, -54.5857) centre (-276.6877, -58.5857) ccw
  arc A13 (-231.6877, -5.5857) -> (-227.6877, -1.5857) centre (-231.6877, -1.5857) ccw
  arc A14 (-236.6877, -1.5857) -> (-232.6877, -5.5857) centre (-232.6877, -1.5857) ccw
  arc A15 (-232.6877, 15.4143) -> (-236.6877, 11.4143) centre (-232.6877, 11.4143) ccw
  arc A16 (-227.6877, 11.4143) -> (-231.6877, 15.4143) centre (-231.6877, 11.4143) ccw
  arc A17 (-231.6877, -75.5857) -> (-227.6877, -71.5857) centre (-231.6877, -71.5857) ccw
  arc A18 (-236.6877, -71.5857) -> (-232.6877, -75.5857) centre (-232.6877, -71.5857) ccw
  arc A19 (-232.6877, -54.5857) -> (-236.6877, -58.5857) centre (-232.6877, -58.5857) ccw
  arc A20 (-227.6877, -58.5857) -> (-231.6877, -54.5857) centre (-231.6877, -58.5857) ccw
  arc A21 (-276.6877, -5.5857) -> (-272.6877, -1.5857) centre (-276.6877, -1.5857) ccw
  arc A22 (-281.6877, -1.5857) -> (-277.6877, -5.5857) centre (-277.6877, -1.5857) ccw
  arc A23 (-277.6877, 15.4143) -> (-281.6877, 11.4143) centre (-277.6877, 11.4143) ccw
  arc A24 (-272.6877, 11.4143) -> (-276.6877, 15.4143) centre (-276.6877, 11.4143) ccw
  arc A25 (-255.1877, 20.4143) -> (-259.1877, 16.4143) centre (-255.1877, 16.4143) ccw
  arc A26 (-250.1877, 16.4143) -> (-254.1877, 20.4143) centre (-254.1877, 16.4143) ccw
  arc A27 (-254.1877, -0.5857) -> (-250.1877, 3.4143) centre (-254.1877, 3.4143) ccw
  arc A28 (-259.1877, 3.4143) -> (-255.1877, -0.5857) centre (-255.1877, 3.4143) ccw
  arc A29 (-254.1877, -80.5857) -> (-250.1877, -76.5857) centre (-254.1877, -76.5857) ccw
  arc A30 (-259.1877, -76.5857) -> (-255.1877, -80.5857) centre (-255.1877, -76.5857) ccw
  arc A31 (-255.1877, -59.5857) -> (-259.1877, -63.5857) centre (-255.1877, -63.5857) ccw
  arc A32 (-250.1877, -63.5857) -> (-254.1877, -59.5857) centre (-254.1877, -63.5857) ccw
  point P0 (-234.6877, 29.9143)
  dimension "d426" = 8.5
  dimension "d427" = 40
  dimension "d429" = 38.1
  dimension "d430" = 8.5
  dimension "d437" = 120
  dimension "d441" = 23.6
extrude "Estrusione37" cut sketch "Schizzo22" against normal blind 5 contours A1 A5 | A1 A5 L38 | A1 A5 L37 | A1 A5 | A1 A5 | A2 | A3 | A4 A6 | A4 A6 L39 | A4 A6 L40 | A4 A6 | A4 A6
extrude "Estrusione38" cut sketch "Schizzo5" along normal blind 5 contours L0 L26 L27 L28 | L2 L12 L13 L14 L15 | L0 L35 L36 L37 | L2 L29 L30 L31 L32 | L0 L23 L24 L25 | L2 L18 L19 L20 L21 | A0 | A2 | A5 | A6 | A9 | A11 | A13 | A15
extrude "Estrusione35" cut sketch "Schizzo5" against normal blind 3.2 from surface at 5 contours L0 A8 | L2 A3 | L0 A14 | L2 A7 | A1 | A4 | A10 | A12 picked at (234.7276, 113.3842) picked at (234.7276, -53.2128) picked at (274.7276, 113.3842) picked at (274.6479, -53.2128)
